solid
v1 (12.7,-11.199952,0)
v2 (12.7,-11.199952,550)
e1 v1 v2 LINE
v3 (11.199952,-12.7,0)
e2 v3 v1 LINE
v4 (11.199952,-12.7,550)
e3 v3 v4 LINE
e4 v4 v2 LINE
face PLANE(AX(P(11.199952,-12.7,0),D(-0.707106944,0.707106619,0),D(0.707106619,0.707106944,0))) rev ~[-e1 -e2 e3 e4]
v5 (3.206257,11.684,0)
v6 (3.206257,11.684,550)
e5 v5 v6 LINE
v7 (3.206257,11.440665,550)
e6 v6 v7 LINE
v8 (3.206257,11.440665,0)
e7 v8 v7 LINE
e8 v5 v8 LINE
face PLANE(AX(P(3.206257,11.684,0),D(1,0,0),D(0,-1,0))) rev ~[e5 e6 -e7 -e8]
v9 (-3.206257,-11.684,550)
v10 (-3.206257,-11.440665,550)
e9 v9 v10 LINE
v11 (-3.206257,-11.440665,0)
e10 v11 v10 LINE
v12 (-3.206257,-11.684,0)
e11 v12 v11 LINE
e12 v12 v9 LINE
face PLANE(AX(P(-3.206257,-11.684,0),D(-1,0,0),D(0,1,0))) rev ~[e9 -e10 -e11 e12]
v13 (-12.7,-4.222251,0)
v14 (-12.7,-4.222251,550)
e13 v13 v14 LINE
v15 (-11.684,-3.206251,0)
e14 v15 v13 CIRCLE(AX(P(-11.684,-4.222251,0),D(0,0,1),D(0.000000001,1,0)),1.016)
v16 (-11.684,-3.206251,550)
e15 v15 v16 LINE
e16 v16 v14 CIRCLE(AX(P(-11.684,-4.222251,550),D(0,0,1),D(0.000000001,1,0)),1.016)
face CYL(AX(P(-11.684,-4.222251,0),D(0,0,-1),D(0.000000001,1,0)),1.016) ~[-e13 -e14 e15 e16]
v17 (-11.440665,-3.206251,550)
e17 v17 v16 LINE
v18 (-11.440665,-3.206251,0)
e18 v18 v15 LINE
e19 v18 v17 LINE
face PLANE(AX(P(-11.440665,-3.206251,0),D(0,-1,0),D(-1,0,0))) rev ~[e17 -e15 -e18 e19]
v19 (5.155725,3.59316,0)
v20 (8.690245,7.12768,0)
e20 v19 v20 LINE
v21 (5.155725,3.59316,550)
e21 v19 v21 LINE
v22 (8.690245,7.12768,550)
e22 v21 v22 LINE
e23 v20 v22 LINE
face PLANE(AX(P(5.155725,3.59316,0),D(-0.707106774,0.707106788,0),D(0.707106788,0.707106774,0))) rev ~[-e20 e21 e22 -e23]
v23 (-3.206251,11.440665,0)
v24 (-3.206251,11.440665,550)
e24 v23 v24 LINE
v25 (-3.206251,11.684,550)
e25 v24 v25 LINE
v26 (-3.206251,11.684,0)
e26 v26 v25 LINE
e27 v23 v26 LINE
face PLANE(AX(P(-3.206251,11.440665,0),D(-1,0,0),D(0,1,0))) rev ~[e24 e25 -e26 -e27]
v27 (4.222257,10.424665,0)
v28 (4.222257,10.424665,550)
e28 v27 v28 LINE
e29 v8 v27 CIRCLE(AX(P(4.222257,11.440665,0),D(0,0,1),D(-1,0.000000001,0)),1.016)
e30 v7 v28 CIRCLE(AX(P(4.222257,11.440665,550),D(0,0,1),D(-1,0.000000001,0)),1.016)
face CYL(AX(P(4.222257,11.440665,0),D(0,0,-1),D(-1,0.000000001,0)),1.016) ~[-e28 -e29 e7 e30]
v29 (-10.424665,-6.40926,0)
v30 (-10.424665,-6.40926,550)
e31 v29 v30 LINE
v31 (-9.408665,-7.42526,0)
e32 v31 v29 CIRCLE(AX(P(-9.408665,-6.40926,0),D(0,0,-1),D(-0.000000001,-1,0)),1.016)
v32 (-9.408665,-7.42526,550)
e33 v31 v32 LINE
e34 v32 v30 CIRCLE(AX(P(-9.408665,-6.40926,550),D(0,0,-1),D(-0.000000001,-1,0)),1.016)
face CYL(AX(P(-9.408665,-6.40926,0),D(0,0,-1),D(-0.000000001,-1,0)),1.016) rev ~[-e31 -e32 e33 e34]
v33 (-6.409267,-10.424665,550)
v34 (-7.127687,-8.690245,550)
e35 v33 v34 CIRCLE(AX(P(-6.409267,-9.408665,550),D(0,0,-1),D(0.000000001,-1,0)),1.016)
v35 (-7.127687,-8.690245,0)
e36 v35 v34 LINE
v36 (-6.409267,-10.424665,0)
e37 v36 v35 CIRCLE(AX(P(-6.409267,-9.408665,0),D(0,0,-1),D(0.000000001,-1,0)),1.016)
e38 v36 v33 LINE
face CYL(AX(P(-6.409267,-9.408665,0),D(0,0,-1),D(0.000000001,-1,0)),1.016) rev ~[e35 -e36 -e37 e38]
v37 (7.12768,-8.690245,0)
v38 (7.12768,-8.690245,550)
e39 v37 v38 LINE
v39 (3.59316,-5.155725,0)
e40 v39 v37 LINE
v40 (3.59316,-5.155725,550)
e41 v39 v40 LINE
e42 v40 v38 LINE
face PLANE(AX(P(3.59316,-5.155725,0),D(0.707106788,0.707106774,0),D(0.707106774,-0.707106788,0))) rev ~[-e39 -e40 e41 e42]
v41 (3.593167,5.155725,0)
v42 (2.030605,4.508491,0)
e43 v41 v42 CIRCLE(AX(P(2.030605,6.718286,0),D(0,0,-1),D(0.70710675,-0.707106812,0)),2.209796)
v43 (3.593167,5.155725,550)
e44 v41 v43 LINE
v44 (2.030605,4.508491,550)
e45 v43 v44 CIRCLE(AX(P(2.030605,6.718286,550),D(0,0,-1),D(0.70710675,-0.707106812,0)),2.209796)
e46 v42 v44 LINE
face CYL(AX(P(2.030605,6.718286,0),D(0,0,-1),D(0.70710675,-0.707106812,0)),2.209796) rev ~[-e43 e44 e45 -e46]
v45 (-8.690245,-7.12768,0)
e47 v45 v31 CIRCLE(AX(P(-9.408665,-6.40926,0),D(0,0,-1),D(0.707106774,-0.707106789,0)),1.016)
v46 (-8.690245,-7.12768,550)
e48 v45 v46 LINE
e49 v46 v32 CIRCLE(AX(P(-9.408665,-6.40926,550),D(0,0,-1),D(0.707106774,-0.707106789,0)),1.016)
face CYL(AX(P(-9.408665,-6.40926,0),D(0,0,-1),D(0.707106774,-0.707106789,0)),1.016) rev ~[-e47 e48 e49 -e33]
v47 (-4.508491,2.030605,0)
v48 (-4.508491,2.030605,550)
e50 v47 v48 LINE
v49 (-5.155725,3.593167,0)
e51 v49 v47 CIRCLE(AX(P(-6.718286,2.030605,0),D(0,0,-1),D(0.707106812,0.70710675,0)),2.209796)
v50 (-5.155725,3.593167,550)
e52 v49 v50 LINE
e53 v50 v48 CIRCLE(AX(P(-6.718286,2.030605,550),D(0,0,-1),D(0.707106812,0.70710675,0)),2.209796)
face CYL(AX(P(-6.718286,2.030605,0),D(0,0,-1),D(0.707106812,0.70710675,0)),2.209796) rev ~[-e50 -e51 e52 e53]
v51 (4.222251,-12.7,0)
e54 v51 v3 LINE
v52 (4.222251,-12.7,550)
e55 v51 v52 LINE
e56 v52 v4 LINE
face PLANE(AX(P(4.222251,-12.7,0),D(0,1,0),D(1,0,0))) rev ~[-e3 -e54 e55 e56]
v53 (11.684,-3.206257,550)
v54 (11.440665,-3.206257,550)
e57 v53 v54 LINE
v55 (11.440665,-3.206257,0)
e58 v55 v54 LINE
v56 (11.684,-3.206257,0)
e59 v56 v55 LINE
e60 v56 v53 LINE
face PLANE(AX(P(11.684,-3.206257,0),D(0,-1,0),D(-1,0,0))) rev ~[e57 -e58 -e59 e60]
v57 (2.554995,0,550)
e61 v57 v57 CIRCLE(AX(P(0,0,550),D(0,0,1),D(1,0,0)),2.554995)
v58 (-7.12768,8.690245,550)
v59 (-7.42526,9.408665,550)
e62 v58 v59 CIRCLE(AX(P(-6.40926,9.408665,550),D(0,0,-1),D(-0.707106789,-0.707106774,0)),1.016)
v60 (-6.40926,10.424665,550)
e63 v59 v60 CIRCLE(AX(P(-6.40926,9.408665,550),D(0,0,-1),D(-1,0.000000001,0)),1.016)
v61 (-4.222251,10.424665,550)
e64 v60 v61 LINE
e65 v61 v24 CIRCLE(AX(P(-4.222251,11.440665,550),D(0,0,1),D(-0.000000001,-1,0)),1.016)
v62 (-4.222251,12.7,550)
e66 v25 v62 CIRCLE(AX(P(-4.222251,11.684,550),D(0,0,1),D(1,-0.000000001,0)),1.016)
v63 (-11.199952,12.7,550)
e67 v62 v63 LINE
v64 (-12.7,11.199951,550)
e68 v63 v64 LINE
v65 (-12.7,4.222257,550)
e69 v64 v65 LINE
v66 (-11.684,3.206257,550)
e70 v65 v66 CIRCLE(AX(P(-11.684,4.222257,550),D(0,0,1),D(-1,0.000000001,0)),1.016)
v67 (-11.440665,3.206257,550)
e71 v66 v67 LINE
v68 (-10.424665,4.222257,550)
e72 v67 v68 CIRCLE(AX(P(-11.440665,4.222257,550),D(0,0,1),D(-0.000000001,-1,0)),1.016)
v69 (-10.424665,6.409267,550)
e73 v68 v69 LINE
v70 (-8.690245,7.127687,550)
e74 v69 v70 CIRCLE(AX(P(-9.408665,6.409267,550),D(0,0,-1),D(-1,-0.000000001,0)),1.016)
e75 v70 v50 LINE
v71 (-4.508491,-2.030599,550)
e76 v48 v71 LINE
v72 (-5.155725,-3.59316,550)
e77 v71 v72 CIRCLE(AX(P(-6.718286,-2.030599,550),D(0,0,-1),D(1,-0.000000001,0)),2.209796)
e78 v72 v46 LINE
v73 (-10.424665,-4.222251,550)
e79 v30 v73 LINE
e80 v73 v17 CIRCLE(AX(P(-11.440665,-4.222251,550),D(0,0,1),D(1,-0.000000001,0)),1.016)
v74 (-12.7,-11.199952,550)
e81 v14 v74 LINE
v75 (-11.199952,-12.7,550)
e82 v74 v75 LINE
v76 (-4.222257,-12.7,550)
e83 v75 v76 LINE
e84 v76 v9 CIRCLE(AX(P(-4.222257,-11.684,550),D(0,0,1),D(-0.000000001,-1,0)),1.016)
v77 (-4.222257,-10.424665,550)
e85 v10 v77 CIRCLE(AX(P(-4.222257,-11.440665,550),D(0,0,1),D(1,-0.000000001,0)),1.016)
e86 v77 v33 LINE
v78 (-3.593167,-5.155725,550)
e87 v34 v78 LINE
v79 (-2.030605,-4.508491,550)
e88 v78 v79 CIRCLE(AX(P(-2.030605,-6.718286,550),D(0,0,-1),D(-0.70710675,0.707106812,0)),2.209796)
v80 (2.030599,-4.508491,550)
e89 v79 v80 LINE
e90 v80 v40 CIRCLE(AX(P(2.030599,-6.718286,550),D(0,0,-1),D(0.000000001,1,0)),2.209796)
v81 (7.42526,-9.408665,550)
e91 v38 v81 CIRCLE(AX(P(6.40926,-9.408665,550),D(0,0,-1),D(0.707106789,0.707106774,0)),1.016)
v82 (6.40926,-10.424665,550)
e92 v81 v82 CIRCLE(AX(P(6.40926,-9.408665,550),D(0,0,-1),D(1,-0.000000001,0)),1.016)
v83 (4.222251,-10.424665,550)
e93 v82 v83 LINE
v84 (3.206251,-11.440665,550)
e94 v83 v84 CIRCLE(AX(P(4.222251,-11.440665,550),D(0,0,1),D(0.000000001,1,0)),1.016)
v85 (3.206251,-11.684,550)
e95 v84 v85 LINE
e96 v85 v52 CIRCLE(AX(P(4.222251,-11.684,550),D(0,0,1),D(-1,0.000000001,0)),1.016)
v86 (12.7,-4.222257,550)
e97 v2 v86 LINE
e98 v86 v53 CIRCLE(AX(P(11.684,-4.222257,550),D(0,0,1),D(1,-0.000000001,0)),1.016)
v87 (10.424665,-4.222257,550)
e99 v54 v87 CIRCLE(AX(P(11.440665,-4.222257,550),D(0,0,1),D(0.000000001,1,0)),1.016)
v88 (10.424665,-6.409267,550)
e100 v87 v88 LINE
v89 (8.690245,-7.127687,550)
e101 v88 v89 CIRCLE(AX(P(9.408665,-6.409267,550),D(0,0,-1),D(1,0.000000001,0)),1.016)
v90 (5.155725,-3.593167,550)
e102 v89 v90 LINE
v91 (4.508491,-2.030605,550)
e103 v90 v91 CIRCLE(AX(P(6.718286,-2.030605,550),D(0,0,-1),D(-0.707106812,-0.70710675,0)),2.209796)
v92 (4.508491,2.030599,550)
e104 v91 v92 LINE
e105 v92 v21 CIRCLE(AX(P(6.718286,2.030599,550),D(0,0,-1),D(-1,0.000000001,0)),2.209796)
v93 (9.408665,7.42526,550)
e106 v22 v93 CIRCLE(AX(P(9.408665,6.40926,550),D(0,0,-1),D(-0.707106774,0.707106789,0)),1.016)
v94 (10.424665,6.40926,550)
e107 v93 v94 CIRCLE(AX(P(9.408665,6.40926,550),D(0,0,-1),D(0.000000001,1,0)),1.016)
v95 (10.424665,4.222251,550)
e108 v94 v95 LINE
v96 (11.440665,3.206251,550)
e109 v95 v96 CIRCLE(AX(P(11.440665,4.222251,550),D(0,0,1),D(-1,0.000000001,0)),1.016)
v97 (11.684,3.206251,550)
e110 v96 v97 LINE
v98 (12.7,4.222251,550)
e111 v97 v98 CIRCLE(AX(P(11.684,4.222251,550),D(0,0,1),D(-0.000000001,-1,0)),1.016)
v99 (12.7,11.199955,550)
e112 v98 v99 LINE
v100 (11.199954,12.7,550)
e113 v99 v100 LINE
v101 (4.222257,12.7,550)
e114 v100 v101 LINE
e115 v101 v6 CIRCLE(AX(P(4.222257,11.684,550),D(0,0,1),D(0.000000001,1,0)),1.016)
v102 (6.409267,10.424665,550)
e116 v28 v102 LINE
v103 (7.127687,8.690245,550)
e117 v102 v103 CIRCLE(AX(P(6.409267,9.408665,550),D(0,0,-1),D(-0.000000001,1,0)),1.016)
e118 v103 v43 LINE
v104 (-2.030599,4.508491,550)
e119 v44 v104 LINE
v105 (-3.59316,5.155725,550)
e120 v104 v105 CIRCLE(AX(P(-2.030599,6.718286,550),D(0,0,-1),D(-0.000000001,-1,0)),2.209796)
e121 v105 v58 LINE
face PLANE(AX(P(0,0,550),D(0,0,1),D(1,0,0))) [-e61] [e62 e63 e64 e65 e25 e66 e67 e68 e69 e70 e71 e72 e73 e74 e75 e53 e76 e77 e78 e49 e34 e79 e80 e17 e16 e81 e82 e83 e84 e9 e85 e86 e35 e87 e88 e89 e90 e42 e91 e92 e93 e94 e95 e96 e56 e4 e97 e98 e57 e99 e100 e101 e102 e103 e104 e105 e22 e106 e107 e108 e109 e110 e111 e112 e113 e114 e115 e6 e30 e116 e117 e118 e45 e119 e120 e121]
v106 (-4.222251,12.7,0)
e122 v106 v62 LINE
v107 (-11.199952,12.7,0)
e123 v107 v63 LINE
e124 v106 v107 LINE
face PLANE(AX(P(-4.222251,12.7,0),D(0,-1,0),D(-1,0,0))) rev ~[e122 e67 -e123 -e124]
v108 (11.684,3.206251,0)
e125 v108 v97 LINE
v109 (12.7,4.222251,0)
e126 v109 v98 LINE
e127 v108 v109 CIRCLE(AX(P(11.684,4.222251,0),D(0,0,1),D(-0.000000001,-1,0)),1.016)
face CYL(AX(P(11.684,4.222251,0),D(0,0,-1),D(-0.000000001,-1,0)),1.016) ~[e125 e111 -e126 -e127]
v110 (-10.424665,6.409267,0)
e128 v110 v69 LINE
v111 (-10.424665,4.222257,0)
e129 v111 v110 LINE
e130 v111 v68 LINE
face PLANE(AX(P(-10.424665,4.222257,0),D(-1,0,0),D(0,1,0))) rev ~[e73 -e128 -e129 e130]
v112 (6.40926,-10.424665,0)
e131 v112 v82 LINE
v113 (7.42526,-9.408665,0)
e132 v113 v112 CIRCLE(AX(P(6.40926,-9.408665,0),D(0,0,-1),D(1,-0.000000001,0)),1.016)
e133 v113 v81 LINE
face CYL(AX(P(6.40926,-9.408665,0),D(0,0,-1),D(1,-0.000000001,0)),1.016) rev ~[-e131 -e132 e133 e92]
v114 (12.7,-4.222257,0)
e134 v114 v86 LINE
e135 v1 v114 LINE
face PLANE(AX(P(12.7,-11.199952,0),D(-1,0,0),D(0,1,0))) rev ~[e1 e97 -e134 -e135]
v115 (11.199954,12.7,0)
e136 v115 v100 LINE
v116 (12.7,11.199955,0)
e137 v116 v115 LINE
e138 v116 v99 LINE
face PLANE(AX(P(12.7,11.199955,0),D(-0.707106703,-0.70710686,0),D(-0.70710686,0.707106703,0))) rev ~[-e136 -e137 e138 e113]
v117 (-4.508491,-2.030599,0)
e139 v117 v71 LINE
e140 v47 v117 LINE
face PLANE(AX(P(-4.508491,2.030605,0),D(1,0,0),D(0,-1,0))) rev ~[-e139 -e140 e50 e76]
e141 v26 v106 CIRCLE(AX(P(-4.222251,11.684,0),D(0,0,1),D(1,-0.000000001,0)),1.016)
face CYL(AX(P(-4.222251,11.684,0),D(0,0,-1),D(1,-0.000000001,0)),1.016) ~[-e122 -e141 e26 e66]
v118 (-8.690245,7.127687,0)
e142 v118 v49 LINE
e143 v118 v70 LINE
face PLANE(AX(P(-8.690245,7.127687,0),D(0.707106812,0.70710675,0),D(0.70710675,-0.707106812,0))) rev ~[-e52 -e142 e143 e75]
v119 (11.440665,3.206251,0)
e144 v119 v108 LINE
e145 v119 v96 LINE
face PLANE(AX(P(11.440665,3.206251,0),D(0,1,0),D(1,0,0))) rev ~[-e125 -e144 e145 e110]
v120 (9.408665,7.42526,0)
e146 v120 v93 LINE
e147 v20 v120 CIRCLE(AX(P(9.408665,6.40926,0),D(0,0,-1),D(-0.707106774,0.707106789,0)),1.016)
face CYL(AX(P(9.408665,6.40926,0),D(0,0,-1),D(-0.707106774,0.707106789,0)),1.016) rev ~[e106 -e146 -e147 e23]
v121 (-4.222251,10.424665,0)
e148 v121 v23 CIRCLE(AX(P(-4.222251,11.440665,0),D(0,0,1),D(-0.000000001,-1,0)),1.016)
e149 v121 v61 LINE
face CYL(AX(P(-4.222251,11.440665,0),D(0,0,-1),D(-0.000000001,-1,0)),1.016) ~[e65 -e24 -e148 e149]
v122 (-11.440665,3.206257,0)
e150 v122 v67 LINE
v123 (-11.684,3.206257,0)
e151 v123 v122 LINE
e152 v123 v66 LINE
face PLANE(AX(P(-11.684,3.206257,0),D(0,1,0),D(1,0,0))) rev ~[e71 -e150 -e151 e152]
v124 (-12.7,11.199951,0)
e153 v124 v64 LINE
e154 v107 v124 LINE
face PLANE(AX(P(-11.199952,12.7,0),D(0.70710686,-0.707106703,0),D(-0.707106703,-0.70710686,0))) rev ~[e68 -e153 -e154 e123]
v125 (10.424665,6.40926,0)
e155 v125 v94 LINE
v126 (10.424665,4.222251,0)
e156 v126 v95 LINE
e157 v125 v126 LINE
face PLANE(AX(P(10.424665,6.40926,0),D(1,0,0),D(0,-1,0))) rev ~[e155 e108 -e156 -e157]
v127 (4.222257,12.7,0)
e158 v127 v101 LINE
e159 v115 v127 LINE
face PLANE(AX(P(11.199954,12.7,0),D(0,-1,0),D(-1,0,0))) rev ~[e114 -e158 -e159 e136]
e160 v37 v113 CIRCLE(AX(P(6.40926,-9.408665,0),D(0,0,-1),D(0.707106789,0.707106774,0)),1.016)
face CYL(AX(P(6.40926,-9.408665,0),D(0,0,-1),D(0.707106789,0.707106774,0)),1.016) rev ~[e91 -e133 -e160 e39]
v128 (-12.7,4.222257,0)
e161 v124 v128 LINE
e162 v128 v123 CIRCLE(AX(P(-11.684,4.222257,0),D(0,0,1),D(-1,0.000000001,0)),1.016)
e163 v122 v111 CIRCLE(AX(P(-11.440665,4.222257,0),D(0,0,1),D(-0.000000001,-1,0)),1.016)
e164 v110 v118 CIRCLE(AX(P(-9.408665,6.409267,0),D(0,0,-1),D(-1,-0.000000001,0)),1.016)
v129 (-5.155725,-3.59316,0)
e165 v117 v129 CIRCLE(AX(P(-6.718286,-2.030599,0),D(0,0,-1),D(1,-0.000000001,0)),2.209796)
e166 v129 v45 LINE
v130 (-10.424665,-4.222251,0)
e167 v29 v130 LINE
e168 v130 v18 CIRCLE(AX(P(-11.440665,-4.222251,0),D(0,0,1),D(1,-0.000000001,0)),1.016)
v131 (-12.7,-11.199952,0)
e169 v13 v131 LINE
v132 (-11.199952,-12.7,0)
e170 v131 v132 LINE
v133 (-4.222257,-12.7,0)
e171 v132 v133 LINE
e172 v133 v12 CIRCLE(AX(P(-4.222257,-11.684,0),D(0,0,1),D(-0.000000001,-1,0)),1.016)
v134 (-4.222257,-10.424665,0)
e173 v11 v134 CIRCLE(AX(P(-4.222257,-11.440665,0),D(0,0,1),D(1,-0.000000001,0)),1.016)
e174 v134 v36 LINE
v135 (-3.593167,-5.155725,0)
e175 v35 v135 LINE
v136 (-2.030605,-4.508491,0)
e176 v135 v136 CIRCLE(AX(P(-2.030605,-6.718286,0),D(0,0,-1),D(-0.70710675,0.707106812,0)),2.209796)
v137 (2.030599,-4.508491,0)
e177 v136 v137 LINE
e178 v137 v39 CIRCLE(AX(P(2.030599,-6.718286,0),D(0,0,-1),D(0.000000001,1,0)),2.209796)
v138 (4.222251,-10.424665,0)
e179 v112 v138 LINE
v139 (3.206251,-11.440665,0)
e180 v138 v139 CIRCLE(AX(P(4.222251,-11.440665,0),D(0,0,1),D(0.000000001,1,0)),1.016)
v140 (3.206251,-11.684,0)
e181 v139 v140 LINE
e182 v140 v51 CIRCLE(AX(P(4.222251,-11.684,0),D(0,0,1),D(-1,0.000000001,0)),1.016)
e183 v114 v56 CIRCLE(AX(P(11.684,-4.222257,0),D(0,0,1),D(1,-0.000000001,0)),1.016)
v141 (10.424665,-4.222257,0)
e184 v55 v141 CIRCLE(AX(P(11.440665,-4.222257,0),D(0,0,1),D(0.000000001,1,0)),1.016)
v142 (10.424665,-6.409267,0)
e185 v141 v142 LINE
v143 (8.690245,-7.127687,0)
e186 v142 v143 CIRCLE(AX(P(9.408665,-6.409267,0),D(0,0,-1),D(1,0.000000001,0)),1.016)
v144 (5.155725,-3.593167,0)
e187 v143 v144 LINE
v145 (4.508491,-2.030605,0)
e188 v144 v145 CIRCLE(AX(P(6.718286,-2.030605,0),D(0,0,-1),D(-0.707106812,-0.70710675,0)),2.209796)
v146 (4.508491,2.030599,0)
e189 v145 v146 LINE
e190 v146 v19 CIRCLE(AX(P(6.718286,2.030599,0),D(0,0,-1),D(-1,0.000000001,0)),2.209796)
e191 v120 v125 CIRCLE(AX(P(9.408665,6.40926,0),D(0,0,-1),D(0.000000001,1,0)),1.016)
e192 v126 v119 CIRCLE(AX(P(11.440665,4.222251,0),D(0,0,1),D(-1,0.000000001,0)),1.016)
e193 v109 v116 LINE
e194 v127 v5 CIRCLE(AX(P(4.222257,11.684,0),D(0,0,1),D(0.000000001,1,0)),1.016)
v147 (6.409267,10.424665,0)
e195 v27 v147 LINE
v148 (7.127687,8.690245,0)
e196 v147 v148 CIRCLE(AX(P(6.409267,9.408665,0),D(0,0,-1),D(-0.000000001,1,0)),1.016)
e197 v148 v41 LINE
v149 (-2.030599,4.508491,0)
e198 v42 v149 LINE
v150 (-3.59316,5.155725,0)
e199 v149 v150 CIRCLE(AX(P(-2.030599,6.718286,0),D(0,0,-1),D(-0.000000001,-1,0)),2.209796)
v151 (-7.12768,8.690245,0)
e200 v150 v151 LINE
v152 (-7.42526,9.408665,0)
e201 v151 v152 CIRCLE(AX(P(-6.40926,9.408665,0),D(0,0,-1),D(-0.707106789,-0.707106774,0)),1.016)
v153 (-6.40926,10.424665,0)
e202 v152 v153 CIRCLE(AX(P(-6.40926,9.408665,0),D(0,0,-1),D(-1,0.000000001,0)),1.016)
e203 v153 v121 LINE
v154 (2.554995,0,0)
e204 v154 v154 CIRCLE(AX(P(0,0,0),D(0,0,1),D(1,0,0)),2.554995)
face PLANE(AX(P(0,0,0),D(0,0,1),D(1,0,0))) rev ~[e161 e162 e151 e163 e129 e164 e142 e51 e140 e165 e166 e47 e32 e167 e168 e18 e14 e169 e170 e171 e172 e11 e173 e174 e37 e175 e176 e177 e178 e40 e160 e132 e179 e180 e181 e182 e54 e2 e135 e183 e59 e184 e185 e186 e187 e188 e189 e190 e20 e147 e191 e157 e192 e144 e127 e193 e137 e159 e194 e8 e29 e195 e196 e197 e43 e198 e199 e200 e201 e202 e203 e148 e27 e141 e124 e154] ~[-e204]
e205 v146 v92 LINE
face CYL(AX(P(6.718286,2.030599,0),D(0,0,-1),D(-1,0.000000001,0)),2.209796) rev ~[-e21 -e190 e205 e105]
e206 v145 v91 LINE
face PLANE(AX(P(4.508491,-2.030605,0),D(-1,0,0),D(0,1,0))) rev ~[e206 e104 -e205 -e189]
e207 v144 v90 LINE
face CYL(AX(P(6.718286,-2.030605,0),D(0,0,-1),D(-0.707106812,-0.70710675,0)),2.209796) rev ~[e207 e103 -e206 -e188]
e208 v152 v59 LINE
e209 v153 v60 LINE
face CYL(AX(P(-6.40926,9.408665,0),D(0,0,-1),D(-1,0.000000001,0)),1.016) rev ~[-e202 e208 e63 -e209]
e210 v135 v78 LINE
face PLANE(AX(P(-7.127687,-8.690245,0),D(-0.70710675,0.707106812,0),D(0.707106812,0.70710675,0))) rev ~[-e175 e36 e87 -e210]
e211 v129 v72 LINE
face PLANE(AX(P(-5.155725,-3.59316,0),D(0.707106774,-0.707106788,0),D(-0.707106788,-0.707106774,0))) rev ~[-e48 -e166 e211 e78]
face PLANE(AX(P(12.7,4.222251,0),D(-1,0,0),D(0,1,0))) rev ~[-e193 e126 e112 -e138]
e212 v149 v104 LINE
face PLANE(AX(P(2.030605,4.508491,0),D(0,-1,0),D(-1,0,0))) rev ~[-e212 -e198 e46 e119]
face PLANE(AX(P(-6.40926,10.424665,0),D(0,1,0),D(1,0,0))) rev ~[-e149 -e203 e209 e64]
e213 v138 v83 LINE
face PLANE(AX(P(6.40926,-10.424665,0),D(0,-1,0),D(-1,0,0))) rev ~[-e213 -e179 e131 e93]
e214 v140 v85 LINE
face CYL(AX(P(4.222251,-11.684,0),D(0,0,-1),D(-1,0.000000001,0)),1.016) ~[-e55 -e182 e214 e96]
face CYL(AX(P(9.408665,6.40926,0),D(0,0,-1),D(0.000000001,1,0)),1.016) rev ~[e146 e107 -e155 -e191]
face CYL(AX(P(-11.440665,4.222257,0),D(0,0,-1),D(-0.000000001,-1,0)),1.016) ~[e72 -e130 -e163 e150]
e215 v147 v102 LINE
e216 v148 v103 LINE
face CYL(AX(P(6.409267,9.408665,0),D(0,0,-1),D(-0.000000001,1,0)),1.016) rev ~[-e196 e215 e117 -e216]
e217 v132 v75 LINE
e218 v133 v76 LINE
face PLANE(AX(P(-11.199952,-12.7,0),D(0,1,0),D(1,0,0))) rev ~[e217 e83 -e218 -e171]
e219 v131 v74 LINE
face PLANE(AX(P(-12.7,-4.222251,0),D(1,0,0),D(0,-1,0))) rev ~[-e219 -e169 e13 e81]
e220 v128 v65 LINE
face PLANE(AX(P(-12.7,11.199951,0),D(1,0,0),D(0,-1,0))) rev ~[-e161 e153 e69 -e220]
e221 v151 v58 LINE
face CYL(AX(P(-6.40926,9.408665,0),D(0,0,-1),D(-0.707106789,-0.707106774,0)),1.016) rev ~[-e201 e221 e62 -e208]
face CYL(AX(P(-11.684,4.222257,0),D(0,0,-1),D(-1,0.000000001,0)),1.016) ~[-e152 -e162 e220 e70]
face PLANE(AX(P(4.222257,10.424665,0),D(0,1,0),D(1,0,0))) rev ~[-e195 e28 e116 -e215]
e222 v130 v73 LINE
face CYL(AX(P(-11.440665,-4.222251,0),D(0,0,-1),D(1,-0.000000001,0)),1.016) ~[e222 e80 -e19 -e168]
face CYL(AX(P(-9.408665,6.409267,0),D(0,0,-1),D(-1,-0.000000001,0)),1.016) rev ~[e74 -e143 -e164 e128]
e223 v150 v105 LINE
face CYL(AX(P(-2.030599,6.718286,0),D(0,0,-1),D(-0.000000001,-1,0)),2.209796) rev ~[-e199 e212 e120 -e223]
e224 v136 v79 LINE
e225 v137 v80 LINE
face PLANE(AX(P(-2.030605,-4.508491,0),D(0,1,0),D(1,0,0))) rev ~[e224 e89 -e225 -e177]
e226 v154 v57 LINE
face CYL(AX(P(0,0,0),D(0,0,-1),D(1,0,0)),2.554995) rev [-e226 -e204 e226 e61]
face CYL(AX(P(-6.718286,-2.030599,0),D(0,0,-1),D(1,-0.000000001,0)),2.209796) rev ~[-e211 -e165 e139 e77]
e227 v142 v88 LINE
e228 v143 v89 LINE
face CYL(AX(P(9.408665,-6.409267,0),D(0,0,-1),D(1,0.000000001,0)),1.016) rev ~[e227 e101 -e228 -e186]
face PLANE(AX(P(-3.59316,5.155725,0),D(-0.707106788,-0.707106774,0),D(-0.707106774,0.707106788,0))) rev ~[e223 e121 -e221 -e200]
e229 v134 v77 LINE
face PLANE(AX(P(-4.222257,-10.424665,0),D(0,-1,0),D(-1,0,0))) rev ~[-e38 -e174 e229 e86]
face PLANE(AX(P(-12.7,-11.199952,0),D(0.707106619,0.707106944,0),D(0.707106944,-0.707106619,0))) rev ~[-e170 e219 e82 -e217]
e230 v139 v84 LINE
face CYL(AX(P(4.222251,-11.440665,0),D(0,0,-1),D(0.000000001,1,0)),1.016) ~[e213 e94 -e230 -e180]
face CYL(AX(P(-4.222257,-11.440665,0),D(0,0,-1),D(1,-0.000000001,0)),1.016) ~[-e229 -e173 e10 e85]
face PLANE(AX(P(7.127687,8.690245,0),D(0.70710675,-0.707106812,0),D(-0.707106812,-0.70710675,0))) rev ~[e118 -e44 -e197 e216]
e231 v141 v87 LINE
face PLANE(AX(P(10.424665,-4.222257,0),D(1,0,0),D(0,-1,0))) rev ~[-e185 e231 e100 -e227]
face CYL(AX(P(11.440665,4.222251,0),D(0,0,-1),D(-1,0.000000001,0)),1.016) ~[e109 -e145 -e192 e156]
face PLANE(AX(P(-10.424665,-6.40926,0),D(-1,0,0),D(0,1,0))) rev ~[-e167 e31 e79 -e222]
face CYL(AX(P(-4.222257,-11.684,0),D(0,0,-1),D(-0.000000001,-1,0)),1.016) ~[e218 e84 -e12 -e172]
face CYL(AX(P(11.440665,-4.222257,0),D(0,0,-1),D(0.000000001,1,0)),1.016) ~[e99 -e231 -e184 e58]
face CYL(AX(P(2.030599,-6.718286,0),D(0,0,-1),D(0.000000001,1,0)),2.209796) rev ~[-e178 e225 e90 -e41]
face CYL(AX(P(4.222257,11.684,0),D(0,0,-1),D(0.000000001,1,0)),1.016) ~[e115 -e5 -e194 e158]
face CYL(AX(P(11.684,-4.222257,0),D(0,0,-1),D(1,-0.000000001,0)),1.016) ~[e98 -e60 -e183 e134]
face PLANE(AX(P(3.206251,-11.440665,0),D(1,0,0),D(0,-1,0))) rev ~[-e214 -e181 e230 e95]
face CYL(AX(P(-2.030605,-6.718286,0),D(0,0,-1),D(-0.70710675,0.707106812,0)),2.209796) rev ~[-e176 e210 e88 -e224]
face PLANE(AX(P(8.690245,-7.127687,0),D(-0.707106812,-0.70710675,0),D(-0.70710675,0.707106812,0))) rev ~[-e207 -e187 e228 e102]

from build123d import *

# Parameters (mm, degrees)
BOSS_EXTRUDE1_DEPTH = 550


with BuildPart() as part:
    # Sketch1 → Boss-Extrude1 (new body)
    with BuildSketch(Plane.XY):
        with BuildLine():
            Line((-11.199951579, -12.7), (-4.222256762, -12.7))
            ThreePointArc((-4.222256762, -12.7), (-3.503836272, -12.40242049), (-3.206256762, -11.684))
            Line((-3.206256762, -11.684), (-3.206256762, -11.440665395))
            ThreePointArc((-3.206256762, -11.440665395), (-3.503836272, -10.722244905), (-4.222256762, -10.424665395))
            Line((-4.222256762, -10.424665395), (-6.40926672, -10.424665395))
            ThreePointArc((-6.40926672, -10.424665395), (-7.347928334, -9.797471742), (-7.127687178, -8.690244874))
            Line((-7.127687178, -8.690244874), (-3.593166694, -5.155724698))
            ThreePointArc((-3.593166694, -5.155724698), (-2.876257435, -4.67670128), (-2.030605322, -4.508490626))
            Line((-2.030605322, -4.508490626), (2.030598864, -4.508490626))
            ThreePointArc((2.030598864, -4.508490626), (2.876251031, -4.676701303), (3.593160319, -5.155724782))
            Line((3.593160319, -5.155724782), (7.127680379, -8.690244912))
            ThreePointArc((7.127680379, -8.690244912), (7.347921489, -9.019859032), (7.425259882, -9.408665395))
            ThreePointArc((7.425259882, -9.408665395), (7.127680372, -10.127085884), (6.409259882, -10.424665395))
            Line((6.409259882, -10.424665395), (4.22225065, -10.424665395))
            ThreePointArc((4.22225065, -10.424665395), (3.50383016, -10.722244905), (3.20625065, -11.440665395))
            Line((3.20625065, -11.440665395), (3.20625065, -11.684))
            ThreePointArc((3.20625065, -11.684), (3.50383016, -12.40242049), (4.22225065, -12.7))
            Line((4.22225065, -12.7), (11.199952422, -12.7))
            Line((11.199952422, -12.7), (12.7, -11.199951732))
            Line((12.7, -11.199951732), (12.7, -4.222256762))
            ThreePointArc((12.7, -4.222256762), (12.40242049, -3.503836272), (11.684, -3.206256762))
            Line((11.684, -3.206256762), (11.440665395, -3.206256762))
            ThreePointArc((11.440665395, -3.206256762), (10.722244905, -3.503836272), (10.424665395, -4.222256762))
            Line((10.424665395, -4.222256762), (10.424665395, -6.40926672))
            ThreePointArc((10.424665395, -6.40926672), (9.797471742, -7.347928334), (8.690244874, -7.127687178))
            Line((8.690244874, -7.127687178), (5.155724698, -3.593166694))
            ThreePointArc((5.155724698, -3.593166694), (4.67670128, -2.876257435), (4.508490626, -2.030605322))
            Line((4.508490626, -2.030605322), (4.508490626, 2.030598864))
            ThreePointArc((4.508490626, 2.030598864), (4.676701303, 2.876251031), (5.155724782, 3.593160319))
            Line((5.155724782, 3.593160319), (8.690244912, 7.127680379))
            ThreePointArc((8.690244912, 7.127680379), (9.019859032, 7.347921489), (9.408665395, 7.425259882))
            ThreePointArc((9.408665395, 7.425259882), (10.127085884, 7.127680372), (10.424665395, 6.409259882))
            Line((10.424665395, 6.409259882), (10.424665395, 4.22225065))
            ThreePointArc((10.424665395, 4.22225065), (10.722244905, 3.50383016), (11.440665395, 3.20625065))
            Line((11.440665395, 3.20625065), (11.684, 3.20625065))
            ThreePointArc((11.684, 3.20625065), (12.40242049, 3.50383016), (12.7, 4.22225065))
            Line((12.7, 4.22225065), (12.7, 11.199954756))
            Line((12.7, 11.199954756), (11.199954423, 12.7))
            Line((11.199954423, 12.7), (4.222256762, 12.7))
            ThreePointArc((4.222256762, 12.7), (3.503836272, 12.40242049), (3.206256762, 11.684))
            Line((3.206256762, 11.684), (3.206256762, 11.440665395))
            ThreePointArc((3.206256762, 11.440665395), (3.503836272, 10.722244905), (4.222256762, 10.424665395))
            Line((4.222256762, 10.424665395), (6.40926672, 10.424665395))
            ThreePointArc((6.40926672, 10.424665395), (7.347928334, 9.797471742), (7.127687178, 8.690244874))
            Line((7.127687178, 8.690244874), (3.593166694, 5.155724698))
            ThreePointArc((3.593166694, 5.155724698), (2.876257435, 4.67670128), (2.030605322, 4.508490626))
            Line((2.030605322, 4.508490626), (-2.030598864, 4.508490626))
            ThreePointArc((-2.030598864, 4.508490626), (-2.876251031, 4.676701303), (-3.593160319, 5.155724782))
            Line((-3.593160319, 5.155724782), (-7.127680379, 8.690244912))
            ThreePointArc((-7.127680379, 8.690244912), (-7.347921489, 9.019859032), (-7.425259882, 9.408665395))
            ThreePointArc((-7.425259882, 9.408665395), (-7.127680372, 10.127085884), (-6.409259882, 10.424665395))
            Line((-6.409259882, 10.424665395), (-4.22225065, 10.424665395))
            ThreePointArc((-4.22225065, 10.424665395), (-3.50383016, 10.722244905), (-3.20625065, 11.440665395))
            Line((-3.20625065, 11.440665395), (-3.20625065, 11.684))
            ThreePointArc((-3.20625065, 11.684), (-3.50383016, 12.40242049), (-4.22225065, 12.7))
            Line((-4.22225065, 12.7), (-11.199951733, 12.7))
            Line((-11.199951733, 12.7), (-12.7, 11.1999514))
            Line((-12.7, 11.1999514), (-12.7, 4.222256762))
            ThreePointArc((-12.7, 4.222256762), (-12.40242049, 3.503836272), (-11.684, 3.206256762))
            Line((-11.684, 3.206256762), (-11.440665395, 3.206256762))
            ThreePointArc((-11.440665395, 3.206256762), (-10.722244905, 3.503836272), (-10.424665395, 4.222256762))
            Line((-10.424665395, 4.222256762), (-10.424665395, 6.40926672))
            ThreePointArc((-10.424665395, 6.40926672), (-9.797471742, 7.347928334), (-8.690244874, 7.127687178))
            Line((-8.690244874, 7.127687178), (-5.155724698, 3.593166694))
            ThreePointArc((-5.155724698, 3.593166694), (-4.67670128, 2.876257435), (-4.508490626, 2.030605322))
            Line((-4.508490626, 2.030605322), (-4.508490626, -2.030598864))
            ThreePointArc((-4.508490626, -2.030598864), (-4.676701303, -2.876251031), (-5.155724782, -3.593160319))
            Line((-5.155724782, -3.593160319), (-8.690244912, -7.127680379))
            ThreePointArc((-8.690244912, -7.127680379), (-9.019859032, -7.347921489), (-9.408665395, -7.425259882))
            ThreePointArc((-9.408665395, -7.425259882), (-10.127085884, -7.127680372), (-10.424665395, -6.409259882))
            Line((-10.424665395, -6.409259882), (-10.424665395, -4.22225065))
            ThreePointArc((-10.424665395, -4.22225065), (-10.722244905, -3.50383016), (-11.440665395, -3.20625065))
            Line((-11.440665395, -3.20625065), (-11.684, -3.20625065))
            ThreePointArc((-11.684, -3.20625065), (-12.40242049, -3.50383016), (-12.7, -4.22225065))
            Line((-12.7, -4.22225065), (-12.7, -11.199952268))
            Line((-12.7, -11.199952268), (-11.199951579, -12.7))
        make_face()
        with BuildLine():
            ThreePointArc((-2.55499489, 0), (0, -2.55499489), (2.55499489, 0))
            ThreePointArc((2.55499489, 0), (0, 2.55499489), (-2.55499489, 0))
        make_face(mode=Mode.SUBTRACT)
    extrude(amount=BOSS_EXTRUDE1_DEPTH)


solid = part.part
